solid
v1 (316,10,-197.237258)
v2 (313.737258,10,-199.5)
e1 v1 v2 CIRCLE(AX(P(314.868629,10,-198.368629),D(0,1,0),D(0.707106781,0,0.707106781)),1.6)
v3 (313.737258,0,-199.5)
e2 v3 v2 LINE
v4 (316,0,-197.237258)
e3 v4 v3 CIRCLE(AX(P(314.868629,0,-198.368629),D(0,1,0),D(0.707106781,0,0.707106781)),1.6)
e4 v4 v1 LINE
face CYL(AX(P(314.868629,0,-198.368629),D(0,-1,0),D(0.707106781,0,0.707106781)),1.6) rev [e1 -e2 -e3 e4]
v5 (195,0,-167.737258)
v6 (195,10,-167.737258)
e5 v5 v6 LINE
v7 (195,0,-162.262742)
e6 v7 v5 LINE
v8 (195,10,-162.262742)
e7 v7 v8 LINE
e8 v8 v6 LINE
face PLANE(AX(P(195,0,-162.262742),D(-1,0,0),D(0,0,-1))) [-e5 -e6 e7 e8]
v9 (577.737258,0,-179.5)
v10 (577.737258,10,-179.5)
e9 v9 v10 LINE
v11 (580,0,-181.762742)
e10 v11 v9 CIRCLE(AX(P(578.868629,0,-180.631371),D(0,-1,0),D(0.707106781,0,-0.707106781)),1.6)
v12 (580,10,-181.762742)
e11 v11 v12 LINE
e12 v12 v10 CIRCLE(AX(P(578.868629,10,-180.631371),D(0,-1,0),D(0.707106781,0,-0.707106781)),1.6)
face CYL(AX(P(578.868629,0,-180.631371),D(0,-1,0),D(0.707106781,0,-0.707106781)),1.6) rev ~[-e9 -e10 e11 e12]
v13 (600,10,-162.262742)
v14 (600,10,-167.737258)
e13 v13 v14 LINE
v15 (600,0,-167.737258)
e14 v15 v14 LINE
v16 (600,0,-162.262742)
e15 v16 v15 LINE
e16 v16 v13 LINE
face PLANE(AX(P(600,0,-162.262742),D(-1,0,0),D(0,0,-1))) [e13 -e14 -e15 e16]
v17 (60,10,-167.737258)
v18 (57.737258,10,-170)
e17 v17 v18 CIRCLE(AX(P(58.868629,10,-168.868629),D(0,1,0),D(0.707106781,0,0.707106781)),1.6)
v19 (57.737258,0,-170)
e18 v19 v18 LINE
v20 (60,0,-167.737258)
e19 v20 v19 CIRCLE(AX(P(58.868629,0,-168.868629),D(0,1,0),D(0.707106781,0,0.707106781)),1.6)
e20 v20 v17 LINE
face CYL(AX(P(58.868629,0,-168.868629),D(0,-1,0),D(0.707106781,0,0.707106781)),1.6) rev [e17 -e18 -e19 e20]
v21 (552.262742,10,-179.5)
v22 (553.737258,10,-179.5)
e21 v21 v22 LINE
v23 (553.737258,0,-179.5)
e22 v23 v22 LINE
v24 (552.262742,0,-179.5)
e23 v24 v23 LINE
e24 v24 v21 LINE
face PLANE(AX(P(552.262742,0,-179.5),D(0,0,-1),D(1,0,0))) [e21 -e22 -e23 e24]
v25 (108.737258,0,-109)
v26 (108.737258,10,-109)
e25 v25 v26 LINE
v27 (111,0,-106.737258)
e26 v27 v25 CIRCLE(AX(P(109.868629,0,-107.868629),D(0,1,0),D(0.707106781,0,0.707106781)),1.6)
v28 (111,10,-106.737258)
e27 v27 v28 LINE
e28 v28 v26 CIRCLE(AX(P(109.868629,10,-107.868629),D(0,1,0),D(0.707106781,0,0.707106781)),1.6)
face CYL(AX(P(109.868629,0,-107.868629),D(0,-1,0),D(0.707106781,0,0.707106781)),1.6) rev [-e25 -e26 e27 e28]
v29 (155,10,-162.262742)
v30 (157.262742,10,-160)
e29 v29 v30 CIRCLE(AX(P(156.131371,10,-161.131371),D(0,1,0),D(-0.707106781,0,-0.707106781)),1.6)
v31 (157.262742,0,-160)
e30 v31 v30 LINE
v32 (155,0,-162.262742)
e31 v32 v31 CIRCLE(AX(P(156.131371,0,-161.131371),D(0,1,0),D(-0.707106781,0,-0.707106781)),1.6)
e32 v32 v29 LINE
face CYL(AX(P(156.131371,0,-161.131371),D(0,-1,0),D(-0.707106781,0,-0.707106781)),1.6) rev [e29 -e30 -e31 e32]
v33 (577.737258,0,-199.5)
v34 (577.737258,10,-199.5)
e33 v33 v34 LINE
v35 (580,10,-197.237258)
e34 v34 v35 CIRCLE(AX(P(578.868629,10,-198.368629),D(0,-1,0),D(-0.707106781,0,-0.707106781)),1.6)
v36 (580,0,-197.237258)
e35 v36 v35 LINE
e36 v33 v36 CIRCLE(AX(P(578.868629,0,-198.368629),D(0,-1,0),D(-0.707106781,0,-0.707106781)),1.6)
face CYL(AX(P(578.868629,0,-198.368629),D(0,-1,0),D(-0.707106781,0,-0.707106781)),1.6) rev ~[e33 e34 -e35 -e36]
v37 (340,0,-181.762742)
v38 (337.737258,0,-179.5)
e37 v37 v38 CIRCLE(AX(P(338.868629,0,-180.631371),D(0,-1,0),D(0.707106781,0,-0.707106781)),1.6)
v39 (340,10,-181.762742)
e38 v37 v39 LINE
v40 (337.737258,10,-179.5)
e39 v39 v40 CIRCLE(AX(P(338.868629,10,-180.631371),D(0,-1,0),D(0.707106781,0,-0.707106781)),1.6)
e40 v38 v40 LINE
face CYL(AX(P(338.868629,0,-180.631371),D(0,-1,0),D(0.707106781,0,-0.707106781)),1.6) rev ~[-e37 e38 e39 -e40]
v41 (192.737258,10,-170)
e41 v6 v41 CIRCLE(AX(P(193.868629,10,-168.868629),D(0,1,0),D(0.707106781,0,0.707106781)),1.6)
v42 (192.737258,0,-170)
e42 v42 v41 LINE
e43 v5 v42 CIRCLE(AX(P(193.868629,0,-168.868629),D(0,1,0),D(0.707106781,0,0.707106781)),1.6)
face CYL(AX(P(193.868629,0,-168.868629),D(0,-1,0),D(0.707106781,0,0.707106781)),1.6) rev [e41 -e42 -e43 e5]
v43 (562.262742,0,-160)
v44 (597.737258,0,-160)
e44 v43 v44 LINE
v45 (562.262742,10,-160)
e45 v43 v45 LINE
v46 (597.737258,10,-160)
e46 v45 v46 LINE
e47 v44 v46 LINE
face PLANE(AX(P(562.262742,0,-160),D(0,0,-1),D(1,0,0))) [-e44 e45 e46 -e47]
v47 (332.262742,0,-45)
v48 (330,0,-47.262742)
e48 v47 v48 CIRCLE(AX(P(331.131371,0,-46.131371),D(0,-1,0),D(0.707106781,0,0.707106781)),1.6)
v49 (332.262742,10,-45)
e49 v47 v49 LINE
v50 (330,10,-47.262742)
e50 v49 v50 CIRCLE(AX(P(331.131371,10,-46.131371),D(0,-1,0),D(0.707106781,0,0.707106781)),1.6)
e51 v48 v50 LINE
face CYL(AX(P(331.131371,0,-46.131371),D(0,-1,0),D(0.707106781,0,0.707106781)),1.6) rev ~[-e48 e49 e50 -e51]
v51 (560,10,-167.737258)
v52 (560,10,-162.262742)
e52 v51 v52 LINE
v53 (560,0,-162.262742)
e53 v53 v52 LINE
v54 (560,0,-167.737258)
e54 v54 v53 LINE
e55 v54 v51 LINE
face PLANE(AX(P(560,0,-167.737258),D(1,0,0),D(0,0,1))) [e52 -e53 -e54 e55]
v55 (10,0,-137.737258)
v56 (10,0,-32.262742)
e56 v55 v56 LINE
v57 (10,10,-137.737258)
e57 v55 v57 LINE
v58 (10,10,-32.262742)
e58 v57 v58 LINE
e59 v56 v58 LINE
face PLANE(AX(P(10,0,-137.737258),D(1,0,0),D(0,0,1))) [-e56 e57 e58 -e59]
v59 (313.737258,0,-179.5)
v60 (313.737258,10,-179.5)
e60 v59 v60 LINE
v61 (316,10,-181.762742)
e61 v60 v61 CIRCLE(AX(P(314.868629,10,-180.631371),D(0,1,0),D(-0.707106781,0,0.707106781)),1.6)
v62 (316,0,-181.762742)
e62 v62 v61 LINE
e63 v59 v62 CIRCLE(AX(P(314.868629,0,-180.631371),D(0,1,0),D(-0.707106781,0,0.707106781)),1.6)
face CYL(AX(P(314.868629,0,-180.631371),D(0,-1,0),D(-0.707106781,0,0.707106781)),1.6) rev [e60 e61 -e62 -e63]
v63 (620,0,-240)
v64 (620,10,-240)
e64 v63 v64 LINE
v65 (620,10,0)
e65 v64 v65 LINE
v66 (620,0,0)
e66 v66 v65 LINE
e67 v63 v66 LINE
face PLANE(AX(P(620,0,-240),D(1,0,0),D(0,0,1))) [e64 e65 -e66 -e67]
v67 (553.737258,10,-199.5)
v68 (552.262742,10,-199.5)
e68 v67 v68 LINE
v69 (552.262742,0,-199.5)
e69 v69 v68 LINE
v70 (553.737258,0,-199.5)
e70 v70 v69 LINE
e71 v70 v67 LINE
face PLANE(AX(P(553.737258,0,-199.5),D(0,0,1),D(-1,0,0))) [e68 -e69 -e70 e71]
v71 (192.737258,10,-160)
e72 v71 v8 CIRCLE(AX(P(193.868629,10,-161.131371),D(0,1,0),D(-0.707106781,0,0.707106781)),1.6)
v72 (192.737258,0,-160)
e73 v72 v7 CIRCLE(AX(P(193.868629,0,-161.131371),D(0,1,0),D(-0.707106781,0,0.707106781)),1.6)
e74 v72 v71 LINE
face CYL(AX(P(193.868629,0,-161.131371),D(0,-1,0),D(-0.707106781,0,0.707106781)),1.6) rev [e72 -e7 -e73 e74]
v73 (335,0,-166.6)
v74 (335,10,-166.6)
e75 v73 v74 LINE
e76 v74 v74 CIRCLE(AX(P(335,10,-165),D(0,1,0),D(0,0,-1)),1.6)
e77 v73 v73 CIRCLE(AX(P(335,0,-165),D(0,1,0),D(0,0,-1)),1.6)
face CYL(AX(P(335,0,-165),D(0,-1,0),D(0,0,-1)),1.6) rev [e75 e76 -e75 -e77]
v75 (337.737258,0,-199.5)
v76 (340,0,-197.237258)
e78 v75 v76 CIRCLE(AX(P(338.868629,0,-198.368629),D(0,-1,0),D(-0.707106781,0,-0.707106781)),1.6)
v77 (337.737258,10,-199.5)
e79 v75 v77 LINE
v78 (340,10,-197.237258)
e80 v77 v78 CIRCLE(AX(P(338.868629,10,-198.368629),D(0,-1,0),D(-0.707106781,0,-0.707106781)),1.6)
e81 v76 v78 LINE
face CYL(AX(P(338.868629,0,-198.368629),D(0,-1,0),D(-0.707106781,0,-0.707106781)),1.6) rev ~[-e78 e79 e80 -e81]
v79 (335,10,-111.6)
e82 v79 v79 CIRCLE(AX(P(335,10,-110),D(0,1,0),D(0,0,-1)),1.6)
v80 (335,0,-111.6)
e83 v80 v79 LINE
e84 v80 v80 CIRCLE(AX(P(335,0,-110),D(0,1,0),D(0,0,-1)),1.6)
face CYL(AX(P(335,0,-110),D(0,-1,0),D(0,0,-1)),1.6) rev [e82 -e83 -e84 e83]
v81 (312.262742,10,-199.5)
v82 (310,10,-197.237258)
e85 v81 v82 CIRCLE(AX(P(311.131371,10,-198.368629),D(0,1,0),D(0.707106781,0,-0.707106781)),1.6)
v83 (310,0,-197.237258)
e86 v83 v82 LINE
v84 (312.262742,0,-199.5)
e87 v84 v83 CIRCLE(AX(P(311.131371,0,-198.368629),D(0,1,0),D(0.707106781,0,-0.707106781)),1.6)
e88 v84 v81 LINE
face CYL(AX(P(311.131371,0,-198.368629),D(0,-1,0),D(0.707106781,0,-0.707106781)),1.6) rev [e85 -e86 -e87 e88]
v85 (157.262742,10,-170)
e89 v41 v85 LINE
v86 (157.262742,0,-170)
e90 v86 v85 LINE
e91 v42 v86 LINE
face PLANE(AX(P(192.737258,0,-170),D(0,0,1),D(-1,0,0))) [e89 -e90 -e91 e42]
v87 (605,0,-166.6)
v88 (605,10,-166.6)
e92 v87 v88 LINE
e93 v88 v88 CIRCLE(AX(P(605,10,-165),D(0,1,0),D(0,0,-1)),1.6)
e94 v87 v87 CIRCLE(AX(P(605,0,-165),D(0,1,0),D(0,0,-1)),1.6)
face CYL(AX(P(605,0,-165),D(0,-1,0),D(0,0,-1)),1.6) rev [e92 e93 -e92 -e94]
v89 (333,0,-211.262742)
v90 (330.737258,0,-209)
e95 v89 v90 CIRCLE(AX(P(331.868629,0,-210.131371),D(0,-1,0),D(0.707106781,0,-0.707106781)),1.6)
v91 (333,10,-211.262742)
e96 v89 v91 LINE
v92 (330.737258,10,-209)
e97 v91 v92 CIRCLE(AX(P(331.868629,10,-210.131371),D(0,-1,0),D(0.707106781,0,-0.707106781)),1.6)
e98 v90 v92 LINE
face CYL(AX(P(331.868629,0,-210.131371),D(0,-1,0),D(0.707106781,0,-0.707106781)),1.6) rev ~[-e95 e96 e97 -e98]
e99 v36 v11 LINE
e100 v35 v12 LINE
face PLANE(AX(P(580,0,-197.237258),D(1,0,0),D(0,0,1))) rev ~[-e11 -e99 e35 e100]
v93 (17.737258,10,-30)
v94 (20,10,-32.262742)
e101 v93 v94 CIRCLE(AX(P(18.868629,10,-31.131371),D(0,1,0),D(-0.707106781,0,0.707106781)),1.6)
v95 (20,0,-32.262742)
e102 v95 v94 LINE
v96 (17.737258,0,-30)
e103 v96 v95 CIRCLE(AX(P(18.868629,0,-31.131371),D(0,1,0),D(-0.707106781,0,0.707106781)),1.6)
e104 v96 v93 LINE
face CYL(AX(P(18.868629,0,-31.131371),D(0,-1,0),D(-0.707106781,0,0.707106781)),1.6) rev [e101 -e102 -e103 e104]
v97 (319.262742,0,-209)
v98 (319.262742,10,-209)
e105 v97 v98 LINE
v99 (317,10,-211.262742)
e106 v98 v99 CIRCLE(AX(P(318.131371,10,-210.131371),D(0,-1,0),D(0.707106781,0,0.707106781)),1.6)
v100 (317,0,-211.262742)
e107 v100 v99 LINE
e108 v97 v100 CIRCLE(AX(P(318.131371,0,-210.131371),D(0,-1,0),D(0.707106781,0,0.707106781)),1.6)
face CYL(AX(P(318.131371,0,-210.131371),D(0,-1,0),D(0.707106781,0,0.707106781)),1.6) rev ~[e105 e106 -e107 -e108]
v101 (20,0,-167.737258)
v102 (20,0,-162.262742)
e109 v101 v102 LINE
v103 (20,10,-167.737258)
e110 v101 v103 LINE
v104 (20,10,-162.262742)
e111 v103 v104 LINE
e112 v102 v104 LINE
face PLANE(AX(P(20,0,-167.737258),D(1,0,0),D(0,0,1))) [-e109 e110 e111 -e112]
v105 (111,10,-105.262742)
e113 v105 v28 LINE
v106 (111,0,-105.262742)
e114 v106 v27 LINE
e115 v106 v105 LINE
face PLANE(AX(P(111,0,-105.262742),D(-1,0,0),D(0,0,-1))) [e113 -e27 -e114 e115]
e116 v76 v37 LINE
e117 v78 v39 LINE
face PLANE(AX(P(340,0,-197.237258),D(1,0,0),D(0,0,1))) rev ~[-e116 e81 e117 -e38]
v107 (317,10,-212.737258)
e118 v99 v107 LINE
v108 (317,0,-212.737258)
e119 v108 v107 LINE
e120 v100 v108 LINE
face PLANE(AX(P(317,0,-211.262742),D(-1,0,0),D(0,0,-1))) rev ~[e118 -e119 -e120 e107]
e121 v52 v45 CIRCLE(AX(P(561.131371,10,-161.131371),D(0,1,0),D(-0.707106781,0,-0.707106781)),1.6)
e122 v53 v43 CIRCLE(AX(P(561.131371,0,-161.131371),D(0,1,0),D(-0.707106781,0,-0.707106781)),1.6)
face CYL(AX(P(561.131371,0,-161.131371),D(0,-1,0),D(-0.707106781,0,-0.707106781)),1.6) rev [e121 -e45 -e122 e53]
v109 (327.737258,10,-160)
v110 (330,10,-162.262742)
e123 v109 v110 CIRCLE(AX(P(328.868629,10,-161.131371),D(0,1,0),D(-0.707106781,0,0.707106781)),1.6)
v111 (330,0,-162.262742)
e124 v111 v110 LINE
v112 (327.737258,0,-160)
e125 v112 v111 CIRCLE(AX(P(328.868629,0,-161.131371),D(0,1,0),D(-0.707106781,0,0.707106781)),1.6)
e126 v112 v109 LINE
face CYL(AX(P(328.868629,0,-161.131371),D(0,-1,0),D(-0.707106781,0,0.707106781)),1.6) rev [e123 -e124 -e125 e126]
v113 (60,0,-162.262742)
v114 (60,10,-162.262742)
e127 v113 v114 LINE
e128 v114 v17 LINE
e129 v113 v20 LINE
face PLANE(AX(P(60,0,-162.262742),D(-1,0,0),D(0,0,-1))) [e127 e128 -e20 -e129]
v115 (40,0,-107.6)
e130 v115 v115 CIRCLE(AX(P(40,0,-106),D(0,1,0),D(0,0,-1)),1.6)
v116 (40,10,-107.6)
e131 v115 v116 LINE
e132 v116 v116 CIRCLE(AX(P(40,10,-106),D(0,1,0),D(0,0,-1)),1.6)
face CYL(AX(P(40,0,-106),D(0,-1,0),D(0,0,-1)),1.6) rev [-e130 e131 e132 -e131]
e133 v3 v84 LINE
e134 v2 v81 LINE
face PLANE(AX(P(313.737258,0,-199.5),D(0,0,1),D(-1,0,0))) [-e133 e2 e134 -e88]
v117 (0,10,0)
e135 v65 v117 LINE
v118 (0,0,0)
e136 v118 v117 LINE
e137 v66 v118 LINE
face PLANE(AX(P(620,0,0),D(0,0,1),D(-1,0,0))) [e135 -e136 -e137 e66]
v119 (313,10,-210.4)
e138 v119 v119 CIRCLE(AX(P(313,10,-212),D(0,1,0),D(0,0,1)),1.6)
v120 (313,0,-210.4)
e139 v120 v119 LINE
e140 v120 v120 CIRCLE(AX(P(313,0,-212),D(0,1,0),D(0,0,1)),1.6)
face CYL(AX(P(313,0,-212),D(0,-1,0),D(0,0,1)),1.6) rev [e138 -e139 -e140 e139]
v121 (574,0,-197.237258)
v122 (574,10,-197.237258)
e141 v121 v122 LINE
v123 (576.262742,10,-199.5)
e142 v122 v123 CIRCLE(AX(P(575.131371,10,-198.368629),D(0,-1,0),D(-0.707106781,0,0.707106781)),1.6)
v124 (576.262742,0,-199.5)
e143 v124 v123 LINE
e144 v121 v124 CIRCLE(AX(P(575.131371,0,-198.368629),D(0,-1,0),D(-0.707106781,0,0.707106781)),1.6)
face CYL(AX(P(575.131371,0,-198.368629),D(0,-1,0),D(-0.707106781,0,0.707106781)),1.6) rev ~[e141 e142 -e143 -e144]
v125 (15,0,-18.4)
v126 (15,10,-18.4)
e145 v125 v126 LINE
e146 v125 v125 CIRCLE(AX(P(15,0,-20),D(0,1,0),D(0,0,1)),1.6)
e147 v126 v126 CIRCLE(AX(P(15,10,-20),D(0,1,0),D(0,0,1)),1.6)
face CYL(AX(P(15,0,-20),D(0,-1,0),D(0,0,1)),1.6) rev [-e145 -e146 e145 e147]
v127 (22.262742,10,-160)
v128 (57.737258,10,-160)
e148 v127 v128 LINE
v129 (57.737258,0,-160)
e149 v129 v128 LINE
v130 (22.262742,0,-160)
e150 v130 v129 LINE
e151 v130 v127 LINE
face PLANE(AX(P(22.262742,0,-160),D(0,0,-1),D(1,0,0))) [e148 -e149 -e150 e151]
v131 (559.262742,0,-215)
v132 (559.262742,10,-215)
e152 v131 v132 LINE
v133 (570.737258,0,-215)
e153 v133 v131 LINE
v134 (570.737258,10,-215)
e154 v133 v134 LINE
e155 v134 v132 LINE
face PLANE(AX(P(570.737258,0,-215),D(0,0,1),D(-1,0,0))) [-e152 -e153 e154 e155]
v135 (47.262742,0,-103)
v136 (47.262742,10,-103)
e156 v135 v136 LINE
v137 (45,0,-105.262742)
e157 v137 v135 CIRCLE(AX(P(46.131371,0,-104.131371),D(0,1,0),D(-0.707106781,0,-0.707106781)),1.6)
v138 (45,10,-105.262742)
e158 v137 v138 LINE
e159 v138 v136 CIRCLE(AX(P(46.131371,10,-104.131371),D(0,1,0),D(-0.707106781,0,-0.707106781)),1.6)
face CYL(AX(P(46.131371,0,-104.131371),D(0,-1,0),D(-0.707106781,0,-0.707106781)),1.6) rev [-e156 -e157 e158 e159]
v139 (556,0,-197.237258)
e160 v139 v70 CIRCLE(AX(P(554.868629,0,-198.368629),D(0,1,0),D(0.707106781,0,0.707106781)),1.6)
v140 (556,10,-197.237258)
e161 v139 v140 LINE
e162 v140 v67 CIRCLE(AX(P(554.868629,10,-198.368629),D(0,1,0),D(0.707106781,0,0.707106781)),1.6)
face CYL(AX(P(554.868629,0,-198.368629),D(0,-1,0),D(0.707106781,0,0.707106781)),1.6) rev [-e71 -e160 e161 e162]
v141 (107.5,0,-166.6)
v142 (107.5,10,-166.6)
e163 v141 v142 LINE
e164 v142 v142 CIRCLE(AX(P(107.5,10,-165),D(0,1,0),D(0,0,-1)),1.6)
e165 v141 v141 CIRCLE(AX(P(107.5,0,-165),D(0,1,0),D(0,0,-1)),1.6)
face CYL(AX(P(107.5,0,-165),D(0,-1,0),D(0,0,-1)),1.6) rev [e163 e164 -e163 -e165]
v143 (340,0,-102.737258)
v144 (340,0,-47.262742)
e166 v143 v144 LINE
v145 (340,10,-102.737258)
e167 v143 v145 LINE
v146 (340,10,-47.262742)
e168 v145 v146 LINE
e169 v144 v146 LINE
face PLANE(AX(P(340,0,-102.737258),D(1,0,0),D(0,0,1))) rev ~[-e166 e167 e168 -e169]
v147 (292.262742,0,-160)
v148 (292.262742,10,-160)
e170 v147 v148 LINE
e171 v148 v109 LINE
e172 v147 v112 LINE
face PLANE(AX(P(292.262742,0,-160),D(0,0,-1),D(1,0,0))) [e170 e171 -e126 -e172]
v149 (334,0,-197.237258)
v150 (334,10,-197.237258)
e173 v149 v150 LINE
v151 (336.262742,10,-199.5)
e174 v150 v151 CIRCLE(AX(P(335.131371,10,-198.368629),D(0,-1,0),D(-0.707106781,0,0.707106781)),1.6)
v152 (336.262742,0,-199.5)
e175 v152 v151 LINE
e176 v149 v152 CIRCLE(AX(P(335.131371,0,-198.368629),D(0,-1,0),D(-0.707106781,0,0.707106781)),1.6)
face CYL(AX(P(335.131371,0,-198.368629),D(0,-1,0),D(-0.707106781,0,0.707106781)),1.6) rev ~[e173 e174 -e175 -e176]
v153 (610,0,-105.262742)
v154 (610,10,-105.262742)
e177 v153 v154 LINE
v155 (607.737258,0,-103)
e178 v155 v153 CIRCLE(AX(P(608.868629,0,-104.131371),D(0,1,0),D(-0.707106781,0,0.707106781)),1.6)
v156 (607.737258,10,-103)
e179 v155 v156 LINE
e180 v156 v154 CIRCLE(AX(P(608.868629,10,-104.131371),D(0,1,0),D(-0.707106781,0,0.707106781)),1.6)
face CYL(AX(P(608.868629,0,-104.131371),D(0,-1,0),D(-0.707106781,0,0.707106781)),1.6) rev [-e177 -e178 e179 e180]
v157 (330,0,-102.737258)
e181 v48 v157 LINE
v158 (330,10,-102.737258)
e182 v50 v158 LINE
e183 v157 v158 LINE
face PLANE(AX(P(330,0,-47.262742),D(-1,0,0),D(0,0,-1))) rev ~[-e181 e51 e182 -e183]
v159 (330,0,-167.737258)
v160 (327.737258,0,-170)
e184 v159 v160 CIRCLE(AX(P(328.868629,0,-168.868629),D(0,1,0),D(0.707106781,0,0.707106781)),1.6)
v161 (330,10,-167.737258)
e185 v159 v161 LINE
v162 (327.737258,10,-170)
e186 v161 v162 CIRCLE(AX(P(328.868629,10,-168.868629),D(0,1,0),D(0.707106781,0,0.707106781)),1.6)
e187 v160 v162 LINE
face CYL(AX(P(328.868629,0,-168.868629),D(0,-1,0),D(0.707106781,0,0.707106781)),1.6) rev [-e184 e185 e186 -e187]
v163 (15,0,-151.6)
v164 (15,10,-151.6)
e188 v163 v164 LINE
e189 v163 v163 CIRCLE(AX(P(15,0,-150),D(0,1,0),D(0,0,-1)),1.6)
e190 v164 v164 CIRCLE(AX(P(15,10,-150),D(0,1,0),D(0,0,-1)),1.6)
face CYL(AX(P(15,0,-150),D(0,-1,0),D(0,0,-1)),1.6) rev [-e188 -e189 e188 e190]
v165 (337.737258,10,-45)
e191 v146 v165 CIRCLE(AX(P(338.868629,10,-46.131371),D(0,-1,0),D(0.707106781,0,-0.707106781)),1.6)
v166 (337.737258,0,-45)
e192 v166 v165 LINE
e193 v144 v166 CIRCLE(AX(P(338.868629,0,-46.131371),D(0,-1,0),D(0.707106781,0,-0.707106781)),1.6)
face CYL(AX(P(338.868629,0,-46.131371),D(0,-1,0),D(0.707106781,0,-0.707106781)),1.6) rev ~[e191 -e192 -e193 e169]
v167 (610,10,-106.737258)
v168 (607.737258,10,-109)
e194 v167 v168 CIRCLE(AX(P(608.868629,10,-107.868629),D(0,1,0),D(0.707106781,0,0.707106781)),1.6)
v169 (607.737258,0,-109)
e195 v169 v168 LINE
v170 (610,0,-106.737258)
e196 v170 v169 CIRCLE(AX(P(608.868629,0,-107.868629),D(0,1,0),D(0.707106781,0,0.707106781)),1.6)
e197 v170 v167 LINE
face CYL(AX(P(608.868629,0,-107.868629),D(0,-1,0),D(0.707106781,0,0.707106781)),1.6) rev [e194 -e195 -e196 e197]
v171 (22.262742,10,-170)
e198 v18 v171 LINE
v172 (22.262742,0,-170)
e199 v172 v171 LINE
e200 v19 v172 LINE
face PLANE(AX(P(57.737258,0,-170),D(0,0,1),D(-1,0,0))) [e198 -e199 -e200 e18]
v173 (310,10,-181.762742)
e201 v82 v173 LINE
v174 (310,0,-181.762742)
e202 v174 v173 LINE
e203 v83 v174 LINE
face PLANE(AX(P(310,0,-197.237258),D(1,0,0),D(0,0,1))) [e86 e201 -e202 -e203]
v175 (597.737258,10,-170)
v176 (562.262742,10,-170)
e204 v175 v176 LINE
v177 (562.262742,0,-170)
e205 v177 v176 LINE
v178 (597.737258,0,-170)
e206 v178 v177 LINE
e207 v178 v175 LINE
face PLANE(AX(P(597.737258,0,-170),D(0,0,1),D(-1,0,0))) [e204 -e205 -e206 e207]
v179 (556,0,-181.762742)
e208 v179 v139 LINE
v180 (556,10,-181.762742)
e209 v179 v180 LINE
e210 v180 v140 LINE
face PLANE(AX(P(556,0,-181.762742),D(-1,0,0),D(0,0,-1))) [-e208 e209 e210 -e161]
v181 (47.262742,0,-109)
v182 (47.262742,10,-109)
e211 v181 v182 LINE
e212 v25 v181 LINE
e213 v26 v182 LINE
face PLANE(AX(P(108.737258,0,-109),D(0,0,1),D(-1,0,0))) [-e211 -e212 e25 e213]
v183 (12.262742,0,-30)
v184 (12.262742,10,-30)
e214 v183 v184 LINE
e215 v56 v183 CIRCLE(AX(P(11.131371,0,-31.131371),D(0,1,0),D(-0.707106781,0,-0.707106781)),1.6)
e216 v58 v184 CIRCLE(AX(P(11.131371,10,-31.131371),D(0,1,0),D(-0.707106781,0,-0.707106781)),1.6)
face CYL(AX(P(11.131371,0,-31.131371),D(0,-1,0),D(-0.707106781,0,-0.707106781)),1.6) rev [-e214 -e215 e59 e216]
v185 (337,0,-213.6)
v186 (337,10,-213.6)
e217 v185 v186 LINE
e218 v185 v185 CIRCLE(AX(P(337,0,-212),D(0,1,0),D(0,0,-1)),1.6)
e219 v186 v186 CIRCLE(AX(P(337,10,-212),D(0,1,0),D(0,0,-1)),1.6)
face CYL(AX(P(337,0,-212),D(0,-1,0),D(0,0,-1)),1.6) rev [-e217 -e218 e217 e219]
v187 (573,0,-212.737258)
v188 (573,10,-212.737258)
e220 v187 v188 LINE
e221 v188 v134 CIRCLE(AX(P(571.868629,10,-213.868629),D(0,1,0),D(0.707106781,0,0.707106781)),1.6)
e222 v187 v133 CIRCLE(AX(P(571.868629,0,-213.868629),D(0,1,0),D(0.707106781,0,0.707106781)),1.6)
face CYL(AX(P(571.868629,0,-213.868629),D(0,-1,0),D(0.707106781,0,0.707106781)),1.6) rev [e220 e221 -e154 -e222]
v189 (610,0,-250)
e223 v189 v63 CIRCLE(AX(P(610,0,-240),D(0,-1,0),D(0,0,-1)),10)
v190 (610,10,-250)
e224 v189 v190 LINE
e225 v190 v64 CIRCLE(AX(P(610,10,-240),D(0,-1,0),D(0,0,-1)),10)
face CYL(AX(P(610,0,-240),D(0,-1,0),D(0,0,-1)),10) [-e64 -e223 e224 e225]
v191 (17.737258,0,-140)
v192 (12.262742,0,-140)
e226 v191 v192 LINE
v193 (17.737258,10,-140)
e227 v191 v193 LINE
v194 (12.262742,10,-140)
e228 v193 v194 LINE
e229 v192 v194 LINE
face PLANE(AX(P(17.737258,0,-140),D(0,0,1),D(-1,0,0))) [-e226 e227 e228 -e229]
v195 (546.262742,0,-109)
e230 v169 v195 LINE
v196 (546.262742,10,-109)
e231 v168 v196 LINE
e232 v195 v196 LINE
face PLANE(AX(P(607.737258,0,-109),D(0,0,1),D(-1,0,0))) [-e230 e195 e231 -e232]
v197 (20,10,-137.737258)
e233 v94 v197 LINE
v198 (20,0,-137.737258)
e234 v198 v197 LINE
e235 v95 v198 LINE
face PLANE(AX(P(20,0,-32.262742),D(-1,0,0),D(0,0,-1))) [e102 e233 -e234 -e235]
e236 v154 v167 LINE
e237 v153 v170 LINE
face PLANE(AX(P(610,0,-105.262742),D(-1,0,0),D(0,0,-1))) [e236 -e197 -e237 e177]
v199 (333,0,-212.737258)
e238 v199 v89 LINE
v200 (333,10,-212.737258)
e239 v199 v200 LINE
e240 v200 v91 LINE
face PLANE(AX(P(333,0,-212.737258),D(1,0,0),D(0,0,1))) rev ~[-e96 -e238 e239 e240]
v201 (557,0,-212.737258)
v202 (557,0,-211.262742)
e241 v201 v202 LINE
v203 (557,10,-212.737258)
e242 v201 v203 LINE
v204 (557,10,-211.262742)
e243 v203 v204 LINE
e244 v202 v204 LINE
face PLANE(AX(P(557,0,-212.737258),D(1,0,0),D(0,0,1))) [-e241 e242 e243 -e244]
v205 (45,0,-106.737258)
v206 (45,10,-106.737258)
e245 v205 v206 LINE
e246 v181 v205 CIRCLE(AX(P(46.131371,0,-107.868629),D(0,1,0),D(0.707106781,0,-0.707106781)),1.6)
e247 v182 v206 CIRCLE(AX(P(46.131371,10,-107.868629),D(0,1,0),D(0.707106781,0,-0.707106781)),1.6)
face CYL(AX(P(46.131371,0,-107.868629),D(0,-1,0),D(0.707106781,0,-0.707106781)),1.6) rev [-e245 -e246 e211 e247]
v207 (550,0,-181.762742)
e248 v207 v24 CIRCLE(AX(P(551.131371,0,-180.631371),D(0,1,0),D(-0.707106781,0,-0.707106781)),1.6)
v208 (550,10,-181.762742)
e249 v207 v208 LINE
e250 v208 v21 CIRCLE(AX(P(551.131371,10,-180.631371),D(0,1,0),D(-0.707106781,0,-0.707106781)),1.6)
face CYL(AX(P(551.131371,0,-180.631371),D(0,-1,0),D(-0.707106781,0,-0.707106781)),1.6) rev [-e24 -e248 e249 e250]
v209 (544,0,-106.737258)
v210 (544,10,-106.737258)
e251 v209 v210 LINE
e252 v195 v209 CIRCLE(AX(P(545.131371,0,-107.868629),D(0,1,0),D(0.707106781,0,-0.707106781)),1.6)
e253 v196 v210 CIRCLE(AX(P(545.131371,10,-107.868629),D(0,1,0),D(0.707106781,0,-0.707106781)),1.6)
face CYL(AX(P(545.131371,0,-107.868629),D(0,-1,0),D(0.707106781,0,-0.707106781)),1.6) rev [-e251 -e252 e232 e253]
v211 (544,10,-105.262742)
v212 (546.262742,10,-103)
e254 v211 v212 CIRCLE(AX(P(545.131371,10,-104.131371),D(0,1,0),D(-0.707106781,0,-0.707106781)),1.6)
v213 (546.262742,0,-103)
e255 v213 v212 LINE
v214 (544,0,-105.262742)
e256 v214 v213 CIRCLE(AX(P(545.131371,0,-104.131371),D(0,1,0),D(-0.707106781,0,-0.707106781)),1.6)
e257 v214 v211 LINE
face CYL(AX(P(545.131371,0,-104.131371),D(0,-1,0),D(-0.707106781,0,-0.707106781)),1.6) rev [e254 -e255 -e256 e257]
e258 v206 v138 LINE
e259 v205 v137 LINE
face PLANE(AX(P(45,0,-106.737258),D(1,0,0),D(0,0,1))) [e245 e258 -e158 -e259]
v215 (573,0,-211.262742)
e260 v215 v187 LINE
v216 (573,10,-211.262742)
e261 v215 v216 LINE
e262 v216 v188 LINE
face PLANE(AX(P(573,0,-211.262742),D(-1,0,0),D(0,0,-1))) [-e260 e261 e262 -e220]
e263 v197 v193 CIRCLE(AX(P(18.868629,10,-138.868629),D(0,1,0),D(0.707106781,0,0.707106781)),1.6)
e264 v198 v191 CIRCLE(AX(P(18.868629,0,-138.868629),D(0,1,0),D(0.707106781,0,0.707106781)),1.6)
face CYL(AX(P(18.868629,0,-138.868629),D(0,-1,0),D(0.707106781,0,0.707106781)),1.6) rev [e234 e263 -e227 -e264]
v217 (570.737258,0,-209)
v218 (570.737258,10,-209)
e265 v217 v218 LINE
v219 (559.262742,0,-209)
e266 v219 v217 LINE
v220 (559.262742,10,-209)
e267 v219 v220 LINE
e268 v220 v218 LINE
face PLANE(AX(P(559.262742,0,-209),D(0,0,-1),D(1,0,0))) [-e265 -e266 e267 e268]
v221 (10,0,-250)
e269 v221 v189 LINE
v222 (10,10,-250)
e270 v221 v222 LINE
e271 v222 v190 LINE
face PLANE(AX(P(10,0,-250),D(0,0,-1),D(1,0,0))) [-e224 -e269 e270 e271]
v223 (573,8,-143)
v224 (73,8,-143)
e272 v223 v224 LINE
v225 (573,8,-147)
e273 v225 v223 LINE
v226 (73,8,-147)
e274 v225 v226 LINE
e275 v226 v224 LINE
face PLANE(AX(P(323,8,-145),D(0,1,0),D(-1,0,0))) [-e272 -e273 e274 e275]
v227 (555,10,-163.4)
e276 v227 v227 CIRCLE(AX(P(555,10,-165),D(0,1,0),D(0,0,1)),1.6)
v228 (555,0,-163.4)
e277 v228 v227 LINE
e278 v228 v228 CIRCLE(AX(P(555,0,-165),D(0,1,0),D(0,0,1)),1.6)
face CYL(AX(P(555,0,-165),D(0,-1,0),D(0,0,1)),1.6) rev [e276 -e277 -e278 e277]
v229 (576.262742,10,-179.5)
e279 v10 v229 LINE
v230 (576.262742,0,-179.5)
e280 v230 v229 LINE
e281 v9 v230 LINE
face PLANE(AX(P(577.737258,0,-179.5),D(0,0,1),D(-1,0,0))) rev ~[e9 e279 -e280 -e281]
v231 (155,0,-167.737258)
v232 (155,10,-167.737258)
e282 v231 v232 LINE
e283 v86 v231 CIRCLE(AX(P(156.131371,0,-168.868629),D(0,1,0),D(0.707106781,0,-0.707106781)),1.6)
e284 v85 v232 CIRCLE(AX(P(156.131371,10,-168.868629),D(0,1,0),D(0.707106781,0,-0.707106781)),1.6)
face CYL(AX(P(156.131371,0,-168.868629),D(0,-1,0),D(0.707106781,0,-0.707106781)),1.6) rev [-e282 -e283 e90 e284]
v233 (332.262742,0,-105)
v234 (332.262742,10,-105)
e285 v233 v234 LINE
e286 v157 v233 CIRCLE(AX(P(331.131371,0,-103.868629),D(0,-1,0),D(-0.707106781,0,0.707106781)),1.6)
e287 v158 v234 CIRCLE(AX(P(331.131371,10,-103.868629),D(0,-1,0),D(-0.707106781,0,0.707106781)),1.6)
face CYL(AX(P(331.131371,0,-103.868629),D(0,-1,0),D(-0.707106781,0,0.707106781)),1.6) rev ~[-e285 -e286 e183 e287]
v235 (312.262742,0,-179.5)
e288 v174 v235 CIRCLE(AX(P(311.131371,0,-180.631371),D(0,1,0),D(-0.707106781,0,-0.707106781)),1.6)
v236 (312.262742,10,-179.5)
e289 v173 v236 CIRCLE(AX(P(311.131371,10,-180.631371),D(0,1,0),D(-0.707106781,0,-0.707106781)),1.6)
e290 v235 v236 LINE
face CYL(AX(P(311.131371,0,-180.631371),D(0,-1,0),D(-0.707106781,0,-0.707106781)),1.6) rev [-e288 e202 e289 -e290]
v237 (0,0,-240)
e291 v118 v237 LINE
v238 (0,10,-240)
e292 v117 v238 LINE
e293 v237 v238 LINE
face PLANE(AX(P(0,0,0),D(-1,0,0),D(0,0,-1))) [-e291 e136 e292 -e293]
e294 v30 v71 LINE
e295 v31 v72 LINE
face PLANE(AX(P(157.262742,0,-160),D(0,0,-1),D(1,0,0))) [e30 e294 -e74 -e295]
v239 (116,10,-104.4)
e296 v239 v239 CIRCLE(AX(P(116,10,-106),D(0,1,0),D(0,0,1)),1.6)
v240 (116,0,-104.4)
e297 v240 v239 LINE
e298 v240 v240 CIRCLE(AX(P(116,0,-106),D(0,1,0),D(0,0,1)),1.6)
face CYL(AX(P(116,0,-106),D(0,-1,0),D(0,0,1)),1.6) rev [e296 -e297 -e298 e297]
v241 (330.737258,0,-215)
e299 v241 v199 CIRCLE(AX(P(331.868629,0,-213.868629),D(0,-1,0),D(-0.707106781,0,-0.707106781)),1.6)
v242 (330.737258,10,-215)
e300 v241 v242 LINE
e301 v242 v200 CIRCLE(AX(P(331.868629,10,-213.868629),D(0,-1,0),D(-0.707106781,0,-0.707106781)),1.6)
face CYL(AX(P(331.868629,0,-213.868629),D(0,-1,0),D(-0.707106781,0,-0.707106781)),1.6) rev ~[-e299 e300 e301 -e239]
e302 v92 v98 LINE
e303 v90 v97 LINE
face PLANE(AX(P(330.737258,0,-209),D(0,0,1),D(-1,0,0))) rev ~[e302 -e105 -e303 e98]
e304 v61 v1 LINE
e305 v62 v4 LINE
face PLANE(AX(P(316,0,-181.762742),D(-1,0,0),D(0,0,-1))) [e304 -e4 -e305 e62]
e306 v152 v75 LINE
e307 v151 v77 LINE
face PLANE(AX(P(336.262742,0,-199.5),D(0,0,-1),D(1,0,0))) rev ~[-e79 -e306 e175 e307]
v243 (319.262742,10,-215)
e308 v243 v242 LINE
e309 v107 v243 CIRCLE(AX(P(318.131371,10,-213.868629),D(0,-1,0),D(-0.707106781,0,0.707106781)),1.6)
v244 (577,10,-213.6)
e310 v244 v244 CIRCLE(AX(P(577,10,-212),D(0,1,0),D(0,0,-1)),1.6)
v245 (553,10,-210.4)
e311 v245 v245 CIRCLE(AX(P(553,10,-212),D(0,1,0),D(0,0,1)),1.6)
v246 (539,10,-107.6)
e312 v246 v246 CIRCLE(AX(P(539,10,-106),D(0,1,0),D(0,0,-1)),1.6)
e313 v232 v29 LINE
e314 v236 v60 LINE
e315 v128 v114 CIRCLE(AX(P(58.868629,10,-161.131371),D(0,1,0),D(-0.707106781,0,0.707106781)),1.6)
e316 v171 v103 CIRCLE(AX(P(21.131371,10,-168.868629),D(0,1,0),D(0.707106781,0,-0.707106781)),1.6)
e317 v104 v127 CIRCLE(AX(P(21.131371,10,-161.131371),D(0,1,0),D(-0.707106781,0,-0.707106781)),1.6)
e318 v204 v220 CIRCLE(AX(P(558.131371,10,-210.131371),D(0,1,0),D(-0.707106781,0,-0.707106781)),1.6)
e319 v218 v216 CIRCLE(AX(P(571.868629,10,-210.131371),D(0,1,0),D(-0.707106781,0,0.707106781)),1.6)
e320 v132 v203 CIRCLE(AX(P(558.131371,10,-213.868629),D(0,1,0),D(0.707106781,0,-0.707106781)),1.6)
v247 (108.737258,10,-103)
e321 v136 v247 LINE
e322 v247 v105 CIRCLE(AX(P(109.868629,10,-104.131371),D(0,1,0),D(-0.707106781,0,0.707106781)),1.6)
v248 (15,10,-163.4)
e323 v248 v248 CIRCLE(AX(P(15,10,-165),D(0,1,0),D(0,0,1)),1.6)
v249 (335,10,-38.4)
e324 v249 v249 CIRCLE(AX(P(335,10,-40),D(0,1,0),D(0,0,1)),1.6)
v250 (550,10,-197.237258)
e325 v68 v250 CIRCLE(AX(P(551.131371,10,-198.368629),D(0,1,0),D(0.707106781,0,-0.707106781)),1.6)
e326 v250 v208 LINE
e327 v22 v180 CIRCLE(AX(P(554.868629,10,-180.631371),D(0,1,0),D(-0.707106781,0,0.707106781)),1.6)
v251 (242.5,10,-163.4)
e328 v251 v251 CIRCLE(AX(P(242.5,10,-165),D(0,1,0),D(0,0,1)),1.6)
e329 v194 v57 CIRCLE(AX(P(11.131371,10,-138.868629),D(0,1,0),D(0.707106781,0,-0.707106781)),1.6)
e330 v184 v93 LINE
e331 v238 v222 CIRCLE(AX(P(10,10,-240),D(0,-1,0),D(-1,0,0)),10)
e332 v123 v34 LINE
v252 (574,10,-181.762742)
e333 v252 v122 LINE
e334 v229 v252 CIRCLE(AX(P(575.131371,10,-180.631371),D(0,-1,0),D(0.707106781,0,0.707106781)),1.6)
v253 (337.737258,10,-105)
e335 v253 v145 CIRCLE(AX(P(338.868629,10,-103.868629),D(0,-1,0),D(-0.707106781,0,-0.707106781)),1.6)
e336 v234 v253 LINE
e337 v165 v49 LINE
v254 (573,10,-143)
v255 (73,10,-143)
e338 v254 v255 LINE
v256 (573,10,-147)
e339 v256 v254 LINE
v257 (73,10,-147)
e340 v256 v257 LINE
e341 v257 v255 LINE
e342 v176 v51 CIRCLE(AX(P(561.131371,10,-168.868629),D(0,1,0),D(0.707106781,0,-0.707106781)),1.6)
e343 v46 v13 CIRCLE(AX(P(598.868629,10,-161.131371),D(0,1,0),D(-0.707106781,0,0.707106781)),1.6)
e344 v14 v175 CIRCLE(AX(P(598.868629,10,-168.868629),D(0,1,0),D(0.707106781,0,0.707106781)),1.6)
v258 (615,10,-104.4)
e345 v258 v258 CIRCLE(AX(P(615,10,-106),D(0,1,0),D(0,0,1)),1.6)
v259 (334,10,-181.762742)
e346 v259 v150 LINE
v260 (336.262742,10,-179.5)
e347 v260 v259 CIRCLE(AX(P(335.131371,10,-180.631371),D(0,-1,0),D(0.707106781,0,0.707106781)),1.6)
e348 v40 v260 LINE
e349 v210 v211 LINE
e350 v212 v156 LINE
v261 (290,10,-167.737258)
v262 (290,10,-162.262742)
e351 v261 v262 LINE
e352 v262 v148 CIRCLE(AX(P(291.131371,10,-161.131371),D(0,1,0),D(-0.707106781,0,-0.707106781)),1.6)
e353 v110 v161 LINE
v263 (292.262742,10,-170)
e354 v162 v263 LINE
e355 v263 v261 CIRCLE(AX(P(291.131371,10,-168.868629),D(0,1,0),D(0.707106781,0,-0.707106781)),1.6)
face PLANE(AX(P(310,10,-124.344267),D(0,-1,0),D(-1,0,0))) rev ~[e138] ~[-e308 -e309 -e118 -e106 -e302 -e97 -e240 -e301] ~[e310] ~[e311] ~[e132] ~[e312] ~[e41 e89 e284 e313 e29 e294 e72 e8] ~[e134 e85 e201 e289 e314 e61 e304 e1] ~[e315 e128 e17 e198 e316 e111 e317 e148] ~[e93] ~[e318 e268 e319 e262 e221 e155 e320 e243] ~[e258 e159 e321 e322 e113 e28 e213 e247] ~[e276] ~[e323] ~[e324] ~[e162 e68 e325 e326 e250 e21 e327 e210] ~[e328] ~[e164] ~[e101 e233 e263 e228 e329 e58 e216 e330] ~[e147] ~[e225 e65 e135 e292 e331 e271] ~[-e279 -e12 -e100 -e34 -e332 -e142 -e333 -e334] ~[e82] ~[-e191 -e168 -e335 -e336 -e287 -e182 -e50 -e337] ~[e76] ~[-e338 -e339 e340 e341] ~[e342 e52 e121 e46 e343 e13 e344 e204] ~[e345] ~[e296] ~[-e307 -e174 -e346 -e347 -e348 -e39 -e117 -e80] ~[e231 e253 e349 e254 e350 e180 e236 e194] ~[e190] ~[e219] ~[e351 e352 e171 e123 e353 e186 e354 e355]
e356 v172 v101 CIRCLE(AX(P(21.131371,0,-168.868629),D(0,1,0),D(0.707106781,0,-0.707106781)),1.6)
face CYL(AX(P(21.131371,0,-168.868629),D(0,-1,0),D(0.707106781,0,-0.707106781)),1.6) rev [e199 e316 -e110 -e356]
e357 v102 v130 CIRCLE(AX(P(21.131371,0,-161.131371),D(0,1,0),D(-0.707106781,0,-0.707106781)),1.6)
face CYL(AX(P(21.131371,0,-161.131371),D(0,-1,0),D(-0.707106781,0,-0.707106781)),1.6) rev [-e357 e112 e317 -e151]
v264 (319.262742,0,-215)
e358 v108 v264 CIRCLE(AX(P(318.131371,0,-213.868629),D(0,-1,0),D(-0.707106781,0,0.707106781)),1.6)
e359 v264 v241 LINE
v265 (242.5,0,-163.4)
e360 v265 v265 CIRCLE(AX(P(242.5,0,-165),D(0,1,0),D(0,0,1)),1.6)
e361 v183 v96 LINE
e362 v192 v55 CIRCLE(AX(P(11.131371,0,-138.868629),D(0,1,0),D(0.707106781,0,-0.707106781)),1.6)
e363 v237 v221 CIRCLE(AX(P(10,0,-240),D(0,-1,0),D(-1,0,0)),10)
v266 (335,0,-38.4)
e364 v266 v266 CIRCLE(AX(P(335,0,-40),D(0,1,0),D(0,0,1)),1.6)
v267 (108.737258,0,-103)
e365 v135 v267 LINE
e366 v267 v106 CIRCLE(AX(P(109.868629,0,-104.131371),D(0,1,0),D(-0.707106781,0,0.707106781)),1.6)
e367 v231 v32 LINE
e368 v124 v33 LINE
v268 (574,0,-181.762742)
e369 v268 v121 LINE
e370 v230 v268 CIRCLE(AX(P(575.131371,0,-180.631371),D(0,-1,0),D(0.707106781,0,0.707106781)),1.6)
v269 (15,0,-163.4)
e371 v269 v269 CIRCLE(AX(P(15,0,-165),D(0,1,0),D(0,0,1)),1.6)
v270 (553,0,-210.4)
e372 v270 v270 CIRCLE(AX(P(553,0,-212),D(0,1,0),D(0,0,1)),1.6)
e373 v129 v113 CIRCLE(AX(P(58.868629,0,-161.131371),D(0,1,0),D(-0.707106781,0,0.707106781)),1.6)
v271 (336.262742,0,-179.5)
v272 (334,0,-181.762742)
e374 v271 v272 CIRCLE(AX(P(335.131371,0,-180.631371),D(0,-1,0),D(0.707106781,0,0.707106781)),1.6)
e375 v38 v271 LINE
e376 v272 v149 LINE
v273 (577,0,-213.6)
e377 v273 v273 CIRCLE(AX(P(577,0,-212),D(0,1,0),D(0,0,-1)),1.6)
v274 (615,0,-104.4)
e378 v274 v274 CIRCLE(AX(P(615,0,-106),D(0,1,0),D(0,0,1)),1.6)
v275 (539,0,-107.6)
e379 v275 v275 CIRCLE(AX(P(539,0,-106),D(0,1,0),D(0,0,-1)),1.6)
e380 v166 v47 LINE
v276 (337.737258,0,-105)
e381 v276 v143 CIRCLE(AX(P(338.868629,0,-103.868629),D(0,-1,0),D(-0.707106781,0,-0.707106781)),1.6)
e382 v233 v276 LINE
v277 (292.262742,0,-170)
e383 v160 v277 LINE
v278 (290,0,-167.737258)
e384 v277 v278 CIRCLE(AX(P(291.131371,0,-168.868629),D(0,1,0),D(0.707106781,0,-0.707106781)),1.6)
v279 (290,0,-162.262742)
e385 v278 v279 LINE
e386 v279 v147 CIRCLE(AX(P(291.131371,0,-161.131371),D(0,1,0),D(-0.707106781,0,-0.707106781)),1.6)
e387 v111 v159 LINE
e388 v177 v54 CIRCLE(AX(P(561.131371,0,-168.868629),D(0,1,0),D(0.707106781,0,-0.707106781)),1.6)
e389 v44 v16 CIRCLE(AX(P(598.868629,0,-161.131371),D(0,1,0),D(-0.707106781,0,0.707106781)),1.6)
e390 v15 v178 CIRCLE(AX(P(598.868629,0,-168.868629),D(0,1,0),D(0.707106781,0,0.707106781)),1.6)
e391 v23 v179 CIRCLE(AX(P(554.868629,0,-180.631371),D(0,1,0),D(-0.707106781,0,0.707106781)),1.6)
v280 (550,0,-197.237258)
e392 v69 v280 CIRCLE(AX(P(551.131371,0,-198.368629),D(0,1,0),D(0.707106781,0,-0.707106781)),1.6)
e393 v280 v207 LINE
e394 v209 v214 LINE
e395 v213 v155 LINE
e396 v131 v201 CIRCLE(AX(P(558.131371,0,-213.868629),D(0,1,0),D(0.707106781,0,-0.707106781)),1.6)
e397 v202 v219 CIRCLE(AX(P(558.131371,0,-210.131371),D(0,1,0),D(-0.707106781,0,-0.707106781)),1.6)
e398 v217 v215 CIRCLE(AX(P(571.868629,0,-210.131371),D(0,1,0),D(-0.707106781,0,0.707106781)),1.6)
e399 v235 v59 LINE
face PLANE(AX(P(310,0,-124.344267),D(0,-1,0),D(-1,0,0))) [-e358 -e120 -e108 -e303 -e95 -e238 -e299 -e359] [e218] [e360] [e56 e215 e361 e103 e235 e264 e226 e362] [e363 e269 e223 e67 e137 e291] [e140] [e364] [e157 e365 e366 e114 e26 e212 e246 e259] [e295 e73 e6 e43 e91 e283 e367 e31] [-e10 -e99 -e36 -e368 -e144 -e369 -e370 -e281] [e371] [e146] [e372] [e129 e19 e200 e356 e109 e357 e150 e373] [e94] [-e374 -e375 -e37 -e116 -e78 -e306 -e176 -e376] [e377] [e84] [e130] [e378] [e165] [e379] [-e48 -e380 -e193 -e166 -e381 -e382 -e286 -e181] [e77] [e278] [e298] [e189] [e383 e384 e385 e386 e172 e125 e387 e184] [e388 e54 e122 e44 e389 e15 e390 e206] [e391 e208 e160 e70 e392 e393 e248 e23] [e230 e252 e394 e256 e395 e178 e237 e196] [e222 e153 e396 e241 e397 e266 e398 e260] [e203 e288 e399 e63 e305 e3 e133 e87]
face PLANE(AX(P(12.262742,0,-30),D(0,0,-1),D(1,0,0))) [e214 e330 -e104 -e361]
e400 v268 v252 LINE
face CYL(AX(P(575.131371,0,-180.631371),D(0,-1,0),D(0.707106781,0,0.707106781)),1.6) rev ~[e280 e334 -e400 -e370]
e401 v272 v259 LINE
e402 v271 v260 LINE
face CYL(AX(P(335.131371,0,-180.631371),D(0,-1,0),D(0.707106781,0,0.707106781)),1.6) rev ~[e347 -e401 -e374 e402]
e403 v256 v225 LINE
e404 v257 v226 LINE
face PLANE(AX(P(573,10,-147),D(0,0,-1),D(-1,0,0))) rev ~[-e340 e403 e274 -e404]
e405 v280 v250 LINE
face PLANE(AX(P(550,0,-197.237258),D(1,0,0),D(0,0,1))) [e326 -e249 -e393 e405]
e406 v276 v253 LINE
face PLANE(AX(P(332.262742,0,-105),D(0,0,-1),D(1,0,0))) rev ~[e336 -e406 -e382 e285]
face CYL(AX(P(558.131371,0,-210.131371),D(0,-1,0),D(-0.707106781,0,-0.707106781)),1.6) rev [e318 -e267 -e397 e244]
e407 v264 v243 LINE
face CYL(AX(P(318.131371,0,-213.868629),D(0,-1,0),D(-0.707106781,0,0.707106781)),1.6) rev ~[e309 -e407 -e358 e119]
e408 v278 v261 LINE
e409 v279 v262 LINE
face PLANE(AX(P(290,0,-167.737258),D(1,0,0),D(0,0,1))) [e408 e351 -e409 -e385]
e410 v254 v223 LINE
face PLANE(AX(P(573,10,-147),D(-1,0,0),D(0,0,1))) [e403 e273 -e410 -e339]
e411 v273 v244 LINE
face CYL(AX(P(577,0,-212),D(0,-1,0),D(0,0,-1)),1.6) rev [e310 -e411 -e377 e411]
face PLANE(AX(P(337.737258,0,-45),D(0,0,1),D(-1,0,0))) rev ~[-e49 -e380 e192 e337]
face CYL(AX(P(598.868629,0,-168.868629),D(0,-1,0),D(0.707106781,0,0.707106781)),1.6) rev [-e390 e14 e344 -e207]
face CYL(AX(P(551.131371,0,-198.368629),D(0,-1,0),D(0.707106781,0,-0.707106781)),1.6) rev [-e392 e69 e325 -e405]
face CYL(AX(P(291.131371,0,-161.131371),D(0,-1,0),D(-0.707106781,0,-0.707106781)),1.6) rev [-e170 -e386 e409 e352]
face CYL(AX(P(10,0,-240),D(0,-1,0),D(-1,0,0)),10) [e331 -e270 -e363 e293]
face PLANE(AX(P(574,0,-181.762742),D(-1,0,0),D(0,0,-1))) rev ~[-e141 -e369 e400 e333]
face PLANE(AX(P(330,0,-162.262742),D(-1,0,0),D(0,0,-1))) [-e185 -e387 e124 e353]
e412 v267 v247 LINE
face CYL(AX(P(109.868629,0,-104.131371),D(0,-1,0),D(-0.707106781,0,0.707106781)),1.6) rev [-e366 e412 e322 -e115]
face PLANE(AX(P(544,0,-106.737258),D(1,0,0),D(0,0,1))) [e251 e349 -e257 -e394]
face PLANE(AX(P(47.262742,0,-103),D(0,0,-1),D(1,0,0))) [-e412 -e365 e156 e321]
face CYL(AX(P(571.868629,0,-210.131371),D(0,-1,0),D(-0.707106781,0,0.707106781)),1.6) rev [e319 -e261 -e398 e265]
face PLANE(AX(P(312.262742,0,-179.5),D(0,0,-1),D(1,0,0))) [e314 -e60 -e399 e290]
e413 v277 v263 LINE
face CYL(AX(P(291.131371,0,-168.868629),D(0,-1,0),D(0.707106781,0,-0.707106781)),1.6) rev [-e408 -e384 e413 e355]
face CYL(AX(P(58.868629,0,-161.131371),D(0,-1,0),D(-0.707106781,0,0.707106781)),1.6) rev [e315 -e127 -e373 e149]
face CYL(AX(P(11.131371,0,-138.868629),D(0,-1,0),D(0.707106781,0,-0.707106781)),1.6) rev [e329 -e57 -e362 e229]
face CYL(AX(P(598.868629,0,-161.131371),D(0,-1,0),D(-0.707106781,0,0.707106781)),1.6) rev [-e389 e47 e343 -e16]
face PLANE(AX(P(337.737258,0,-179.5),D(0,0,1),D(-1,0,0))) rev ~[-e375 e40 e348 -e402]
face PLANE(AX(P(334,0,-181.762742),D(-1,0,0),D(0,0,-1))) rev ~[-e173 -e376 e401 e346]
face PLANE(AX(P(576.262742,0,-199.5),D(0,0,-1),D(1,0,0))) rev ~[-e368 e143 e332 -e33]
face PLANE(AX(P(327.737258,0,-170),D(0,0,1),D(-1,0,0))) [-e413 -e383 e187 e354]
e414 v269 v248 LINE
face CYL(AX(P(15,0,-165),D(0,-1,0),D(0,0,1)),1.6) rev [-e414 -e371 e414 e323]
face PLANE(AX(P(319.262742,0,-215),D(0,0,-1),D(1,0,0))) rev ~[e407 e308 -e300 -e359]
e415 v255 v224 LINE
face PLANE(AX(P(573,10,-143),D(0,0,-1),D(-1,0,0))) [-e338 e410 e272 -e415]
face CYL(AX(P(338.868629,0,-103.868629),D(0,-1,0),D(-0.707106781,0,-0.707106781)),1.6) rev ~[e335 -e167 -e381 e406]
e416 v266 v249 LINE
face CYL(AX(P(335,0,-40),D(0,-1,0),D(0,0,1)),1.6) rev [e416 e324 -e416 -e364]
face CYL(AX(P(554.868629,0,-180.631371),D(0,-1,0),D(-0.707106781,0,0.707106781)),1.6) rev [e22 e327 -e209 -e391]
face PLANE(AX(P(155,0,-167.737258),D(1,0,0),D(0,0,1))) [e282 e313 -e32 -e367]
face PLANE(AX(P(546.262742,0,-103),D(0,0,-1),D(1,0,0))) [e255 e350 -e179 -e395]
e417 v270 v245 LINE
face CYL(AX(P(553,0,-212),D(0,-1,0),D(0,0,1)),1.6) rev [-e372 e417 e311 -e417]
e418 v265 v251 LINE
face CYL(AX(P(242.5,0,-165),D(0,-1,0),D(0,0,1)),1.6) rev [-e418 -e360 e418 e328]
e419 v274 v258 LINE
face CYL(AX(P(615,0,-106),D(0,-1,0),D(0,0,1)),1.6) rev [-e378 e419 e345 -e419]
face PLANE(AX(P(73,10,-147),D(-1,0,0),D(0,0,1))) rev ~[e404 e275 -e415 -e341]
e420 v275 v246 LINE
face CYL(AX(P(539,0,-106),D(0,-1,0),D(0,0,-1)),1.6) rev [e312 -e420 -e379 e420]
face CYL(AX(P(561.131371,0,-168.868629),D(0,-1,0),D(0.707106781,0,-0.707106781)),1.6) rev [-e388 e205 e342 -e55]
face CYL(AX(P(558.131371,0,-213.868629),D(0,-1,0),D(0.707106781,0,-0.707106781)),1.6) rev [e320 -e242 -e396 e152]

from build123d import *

# Parameters (mm, degrees)
ESQUISSE1_R             = 1.6
EXTRUSION1_DEPTH        = 10
ESQUISSE2_W             = 500
ESQUISSE2_H             = 4
ENL_V_MAT_EXTRU_1_DEPTH = 2


with BuildPart() as part:
    # Esquisse1 → Extrusion1 (new body)
    with BuildSketch(Plane(origin=(0, 0, 0), x_dir=(1, 0, 0), z_dir=(0, 1, 0))):
        with BuildLine():
            Line((10, 250), (610, 250))
            ThreePointArc((610, 250), (617.071067812, 247.071067812), (620, 240))
            Line((620, 240), (620, 0))
            Line((620, 0), (0, 0))
            Line((0, 0), (0, 240))
            ThreePointArc((0, 240), (2.928932188, 247.071067812), (10, 250))
        make_face()
        with Locations(Location((313, 212, 0), (0, 0, 270))):  # turned: the seam where the file's is
            Circle(ESQUISSE1_R, mode=Mode.SUBTRACT)
        with Locations(Location((337, 212, 0), (0, 0, 90))):  # turned: the seam where the file's is
            Circle(ESQUISSE1_R, mode=Mode.SUBTRACT)
        with Locations(Location((553, 212, 0), (0, 0, 270))):  # turned: the seam where the file's is
            Circle(ESQUISSE1_R, mode=Mode.SUBTRACT)
        with Locations(Location((577, 212, 0), (0, 0, 90))):  # turned: the seam where the file's is
            Circle(ESQUISSE1_R, mode=Mode.SUBTRACT)
        with Locations(Location((555, 165, 0), (0, 0, 270))):  # turned: the seam where the file's is
            Circle(ESQUISSE1_R, mode=Mode.SUBTRACT)
        with Locations(Location((605, 165, 0), (0, 0, 90))):  # turned: the seam where the file's is
            Circle(ESQUISSE1_R, mode=Mode.SUBTRACT)
        with Locations(Location((335, 165, 0), (0, 0, 90))):  # turned: the seam where the file's is
            Circle(ESQUISSE1_R, mode=Mode.SUBTRACT)
        with Locations(Location((15, 165, 0), (0, 0, 270))):  # turned: the seam where the file's is
            Circle(ESQUISSE1_R, mode=Mode.SUBTRACT)
        with Locations(Location((242.5, 165, 0), (0, 0, 270))):  # turned: the seam where the file's is
            Circle(ESQUISSE1_R, mode=Mode.SUBTRACT)
        with Locations(Location((107.5, 165, 0), (0, 0, 90))):  # turned: the seam where the file's is
            Circle(ESQUISSE1_R, mode=Mode.SUBTRACT)
        with Locations(Location((15, 20, 0), (0, 0, 270))):  # turned: the seam where the file's is
            Circle(ESQUISSE1_R, mode=Mode.SUBTRACT)
        with Locations(Location((15, 150, 0), (0, 0, 90))):  # turned: the seam where the file's is
            Circle(ESQUISSE1_R, mode=Mode.SUBTRACT)
        with Locations(Location((335, 40, 0), (0, 0, 270))):  # turned: the seam where the file's is
            Circle(ESQUISSE1_R, mode=Mode.SUBTRACT)
        with Locations(Location((335, 110, 0), (0, 0, 90))):  # turned: the seam where the file's is
            Circle(ESQUISSE1_R, mode=Mode.SUBTRACT)
        with Locations(Location((615, 106, 0), (0, 0, 270))):  # turned: the seam where the file's is
            Circle(ESQUISSE1_R, mode=Mode.SUBTRACT)
        with Locations(Location((539, 106, 0), (0, 0, 90))):  # turned: the seam where the file's is
            Circle(ESQUISSE1_R, mode=Mode.SUBTRACT)
        with Locations(Location((116, 106, 0), (0, 0, 270))):  # turned: the seam where the file's is
            Circle(ESQUISSE1_R, mode=Mode.SUBTRACT)
        with Locations(Location((40, 106, 0), (0, 0, 90))):  # turned: the seam where the file's is
            Circle(ESQUISSE1_R, mode=Mode.SUBTRACT)
        with BuildLine():
            Line((317, 211.2627417), (317, 212.7372583))
            ThreePointArc((317, 212.7372583), (317, 215), (319.2627417, 215))
            Line((319.2627417, 215), (330.7372583, 215))
            ThreePointArc((330.7372583, 215), (333, 215), (333, 212.7372583))
            Line((333, 212.7372583), (333, 211.2627417))
            ThreePointArc((333, 211.2627417), (333, 209), (330.7372583, 209))
            Line((330.7372583, 209), (319.2627417, 209))
            ThreePointArc((319.2627417, 209), (317, 209), (317, 211.2627417))
        make_face(mode=Mode.SUBTRACT)
        with BuildLine():
            Line((312.2627417, 179.5), (313.7372583, 179.5))
            ThreePointArc((313.7372583, 179.5), (316, 179.5), (316, 181.7627417))
            Line((316, 181.7627417), (316, 197.2372583))
            ThreePointArc((316, 197.2372583), (316, 199.5), (313.7372583, 199.5))
            Line((313.7372583, 199.5), (312.2627417, 199.5))
            ThreePointArc((312.2627417, 199.5), (310, 199.5), (310, 197.2372583))
            Line((310, 197.2372583), (310, 181.7627417))
            ThreePointArc((310, 181.7627417), (310, 179.5), (312.2627417, 179.5))
        make_face(mode=Mode.SUBTRACT)
        with BuildLine():
            Line((334, 181.7627417), (334, 197.2372583))
            ThreePointArc((334, 197.2372583), (334, 199.5), (336.2627417, 199.5))
            Line((336.2627417, 199.5), (337.7372583, 199.5))
            ThreePointArc((337.7372583, 199.5), (340, 199.5), (340, 197.2372583))
            Line((340, 197.2372583), (340, 181.7627417))
            ThreePointArc((340, 181.7627417), (340, 179.5), (337.7372583, 179.5))
            Line((337.7372583, 179.5), (336.2627417, 179.5))
            ThreePointArc((336.2627417, 179.5), (334, 179.5), (334, 181.7627417))
        make_face(mode=Mode.SUBTRACT)
        with BuildLine():
            Line((552.2627417, 179.5), (553.7372583, 179.5))
            ThreePointArc((553.7372583, 179.5), (556, 179.5), (556, 181.7627417))
            Line((556, 181.7627417), (556, 197.2372583))
            ThreePointArc((556, 197.2372583), (556, 199.5), (553.7372583, 199.5))
            Line((553.7372583, 199.5), (552.2627417, 199.5))
            ThreePointArc((552.2627417, 199.5), (550, 199.5), (550, 197.2372583))
            Line((550, 197.2372583), (550, 181.7627417))
            ThreePointArc((550, 181.7627417), (550, 179.5), (552.2627417, 179.5))
        make_face(mode=Mode.SUBTRACT)
        with BuildLine():
            Line((574, 181.7627417), (574, 197.2372583))
            ThreePointArc((574, 197.2372583), (574, 199.5), (576.2627417, 199.5))
            Line((576.2627417, 199.5), (577.7372583, 199.5))
            ThreePointArc((577.7372583, 199.5), (580, 199.5), (580, 197.2372583))
            Line((580, 197.2372583), (580, 181.7627417))
            ThreePointArc((580, 181.7627417), (580, 179.5), (577.7372583, 179.5))
            Line((577.7372583, 179.5), (576.2627417, 179.5))
            ThreePointArc((576.2627417, 179.5), (574, 179.5), (574, 181.7627417))
        make_face(mode=Mode.SUBTRACT)
        with BuildLine():
            Line((559.2627417, 209), (570.7372583, 209))
            ThreePointArc((570.7372583, 209), (573, 209), (573, 211.2627417))
            Line((573, 211.2627417), (573, 212.7372583))
            ThreePointArc((573, 212.7372583), (573, 215), (570.7372583, 215))
            Line((570.7372583, 215), (559.2627417, 215))
            ThreePointArc((559.2627417, 215), (557, 215), (557, 212.7372583))
            Line((557, 212.7372583), (557, 211.2627417))
            ThreePointArc((557, 211.2627417), (557, 209), (559.2627417, 209))
        make_face(mode=Mode.SUBTRACT)
        with BuildLine():
            Line((560, 167.7372583), (560, 162.2627417))
            ThreePointArc((560, 162.2627417), (560, 160), (562.2627417, 160))
            Line((562.2627417, 160), (597.7372583, 160))
            ThreePointArc((597.7372583, 160), (600, 160), (600, 162.2627417))
            Line((600, 162.2627417), (600, 167.7372583))
            ThreePointArc((600, 167.7372583), (600, 170), (597.7372583, 170))
            Line((597.7372583, 170), (562.2627417, 170))
            ThreePointArc((562.2627417, 170), (560, 170), (560, 167.7372583))
        make_face(mode=Mode.SUBTRACT)
        with BuildLine():
            Line((292.2627417, 160), (327.7372583, 160))
            ThreePointArc((327.7372583, 160), (330, 160), (330, 162.2627417))
            Line((330, 162.2627417), (330, 167.7372583))
            ThreePointArc((330, 167.7372583), (330, 170), (327.7372583, 170))
            Line((327.7372583, 170), (292.2627417, 170))
            ThreePointArc((292.2627417, 170), (290, 170), (290, 167.7372583))
            Line((290, 167.7372583), (290, 162.2627417))
            ThreePointArc((290, 162.2627417), (290, 160), (292.2627417, 160))
        make_face(mode=Mode.SUBTRACT)
        with BuildLine():
            Line((20, 167.7372583), (20, 162.2627417))
            ThreePointArc((20, 162.2627417), (20, 160), (22.2627417, 160))
            Line((22.2627417, 160), (57.7372583, 160))
            ThreePointArc((57.7372583, 160), (60, 160), (60, 162.2627417))
            Line((60, 162.2627417), (60, 167.7372583))
            ThreePointArc((60, 167.7372583), (60, 170), (57.7372583, 170))
            Line((57.7372583, 170), (22.2627417, 170))
            ThreePointArc((22.2627417, 170), (20, 170), (20, 167.7372583))
        make_face(mode=Mode.SUBTRACT)
        with BuildLine():
            Line((155, 167.7372583), (155, 162.2627417))
            ThreePointArc((155, 162.2627417), (155, 160), (157.2627417, 160))
            Line((157.2627417, 160), (192.7372583, 160))
            ThreePointArc((192.7372583, 160), (195, 160), (195, 162.2627417))
            Line((195, 162.2627417), (195, 167.7372583))
            ThreePointArc((195, 167.7372583), (195, 170), (192.7372583, 170))
            Line((192.7372583, 170), (157.2627417, 170))
            ThreePointArc((157.2627417, 170), (155, 170), (155, 167.7372583))
        make_face(mode=Mode.SUBTRACT)
        with BuildLine():
            Line((12.2627417, 30), (17.7372583, 30))
            ThreePointArc((17.7372583, 30), (20, 30), (20, 32.2627417))
            Line((20, 32.2627417), (20, 137.7372583))
            ThreePointArc((20, 137.7372583), (20, 140), (17.7372583, 140))
            Line((17.7372583, 140), (12.2627417, 140))
            ThreePointArc((12.2627417, 140), (10, 140), (10, 137.7372583))
            Line((10, 137.7372583), (10, 32.2627417))
            ThreePointArc((10, 32.2627417), (10, 30), (12.2627417, 30))
        make_face(mode=Mode.SUBTRACT)
        with BuildLine():
            Line((337.7372583, 45), (332.2627417, 45))
            ThreePointArc((332.2627417, 45), (330, 45), (330, 47.2627417))
            Line((330, 47.2627417), (330, 102.7372583))
            ThreePointArc((330, 102.7372583), (330, 105), (332.2627417, 105))
            Line((332.2627417, 105), (337.7372583, 105))
            ThreePointArc((337.7372583, 105), (340, 105), (340, 102.7372583))
            Line((340, 102.7372583), (340, 47.2627417))
            ThreePointArc((340, 47.2627417), (340, 45), (337.7372583, 45))
        make_face(mode=Mode.SUBTRACT)
        with BuildLine():
            Line((610, 105.2627417), (610, 106.7372583))
            ThreePointArc((610, 106.7372583), (610, 109), (607.7372583, 109))
            Line((607.7372583, 109), (546.2627417, 109))
            ThreePointArc((546.2627417, 109), (544, 109), (544, 106.7372583))
            Line((544, 106.7372583), (544, 105.2627417))
            ThreePointArc((544, 105.2627417), (544, 103), (546.2627417, 103))
            Line((546.2627417, 103), (607.7372583, 103))
            ThreePointArc((607.7372583, 103), (610, 103), (610, 105.2627417))
        make_face(mode=Mode.SUBTRACT)
        with BuildLine():
            Line((108.7372583, 109), (47.2627417, 109))
            ThreePointArc((47.2627417, 109), (45, 109), (45, 106.7372583))
            Line((45, 106.7372583), (45, 105.2627417))
            ThreePointArc((45, 105.2627417), (45, 103), (47.2627417, 103))
            Line((47.2627417, 103), (108.7372583, 103))
            ThreePointArc((108.7372583, 103), (111, 103), (111, 105.2627417))
            Line((111, 105.2627417), (111, 106.7372583))
            ThreePointArc((111, 106.7372583), (111, 109), (108.7372583, 109))
        make_face(mode=Mode.SUBTRACT)
    extrude(amount=EXTRUSION1_DEPTH)

    # Esquisse2 → Enlèv. mat.-Extru.1 (cut)
    with BuildSketch(Plane(origin=(0, 10, 0), x_dir=(-1, 0, 0), z_dir=(0, 1, 0))):
        with Locations((-323, -145)):
            Rectangle(ESQUISSE2_W, ESQUISSE2_H)
    extrude(amount=-ENL_V_MAT_EXTRU_1_DEPTH, mode=Mode.SUBTRACT)


solid = part.part
